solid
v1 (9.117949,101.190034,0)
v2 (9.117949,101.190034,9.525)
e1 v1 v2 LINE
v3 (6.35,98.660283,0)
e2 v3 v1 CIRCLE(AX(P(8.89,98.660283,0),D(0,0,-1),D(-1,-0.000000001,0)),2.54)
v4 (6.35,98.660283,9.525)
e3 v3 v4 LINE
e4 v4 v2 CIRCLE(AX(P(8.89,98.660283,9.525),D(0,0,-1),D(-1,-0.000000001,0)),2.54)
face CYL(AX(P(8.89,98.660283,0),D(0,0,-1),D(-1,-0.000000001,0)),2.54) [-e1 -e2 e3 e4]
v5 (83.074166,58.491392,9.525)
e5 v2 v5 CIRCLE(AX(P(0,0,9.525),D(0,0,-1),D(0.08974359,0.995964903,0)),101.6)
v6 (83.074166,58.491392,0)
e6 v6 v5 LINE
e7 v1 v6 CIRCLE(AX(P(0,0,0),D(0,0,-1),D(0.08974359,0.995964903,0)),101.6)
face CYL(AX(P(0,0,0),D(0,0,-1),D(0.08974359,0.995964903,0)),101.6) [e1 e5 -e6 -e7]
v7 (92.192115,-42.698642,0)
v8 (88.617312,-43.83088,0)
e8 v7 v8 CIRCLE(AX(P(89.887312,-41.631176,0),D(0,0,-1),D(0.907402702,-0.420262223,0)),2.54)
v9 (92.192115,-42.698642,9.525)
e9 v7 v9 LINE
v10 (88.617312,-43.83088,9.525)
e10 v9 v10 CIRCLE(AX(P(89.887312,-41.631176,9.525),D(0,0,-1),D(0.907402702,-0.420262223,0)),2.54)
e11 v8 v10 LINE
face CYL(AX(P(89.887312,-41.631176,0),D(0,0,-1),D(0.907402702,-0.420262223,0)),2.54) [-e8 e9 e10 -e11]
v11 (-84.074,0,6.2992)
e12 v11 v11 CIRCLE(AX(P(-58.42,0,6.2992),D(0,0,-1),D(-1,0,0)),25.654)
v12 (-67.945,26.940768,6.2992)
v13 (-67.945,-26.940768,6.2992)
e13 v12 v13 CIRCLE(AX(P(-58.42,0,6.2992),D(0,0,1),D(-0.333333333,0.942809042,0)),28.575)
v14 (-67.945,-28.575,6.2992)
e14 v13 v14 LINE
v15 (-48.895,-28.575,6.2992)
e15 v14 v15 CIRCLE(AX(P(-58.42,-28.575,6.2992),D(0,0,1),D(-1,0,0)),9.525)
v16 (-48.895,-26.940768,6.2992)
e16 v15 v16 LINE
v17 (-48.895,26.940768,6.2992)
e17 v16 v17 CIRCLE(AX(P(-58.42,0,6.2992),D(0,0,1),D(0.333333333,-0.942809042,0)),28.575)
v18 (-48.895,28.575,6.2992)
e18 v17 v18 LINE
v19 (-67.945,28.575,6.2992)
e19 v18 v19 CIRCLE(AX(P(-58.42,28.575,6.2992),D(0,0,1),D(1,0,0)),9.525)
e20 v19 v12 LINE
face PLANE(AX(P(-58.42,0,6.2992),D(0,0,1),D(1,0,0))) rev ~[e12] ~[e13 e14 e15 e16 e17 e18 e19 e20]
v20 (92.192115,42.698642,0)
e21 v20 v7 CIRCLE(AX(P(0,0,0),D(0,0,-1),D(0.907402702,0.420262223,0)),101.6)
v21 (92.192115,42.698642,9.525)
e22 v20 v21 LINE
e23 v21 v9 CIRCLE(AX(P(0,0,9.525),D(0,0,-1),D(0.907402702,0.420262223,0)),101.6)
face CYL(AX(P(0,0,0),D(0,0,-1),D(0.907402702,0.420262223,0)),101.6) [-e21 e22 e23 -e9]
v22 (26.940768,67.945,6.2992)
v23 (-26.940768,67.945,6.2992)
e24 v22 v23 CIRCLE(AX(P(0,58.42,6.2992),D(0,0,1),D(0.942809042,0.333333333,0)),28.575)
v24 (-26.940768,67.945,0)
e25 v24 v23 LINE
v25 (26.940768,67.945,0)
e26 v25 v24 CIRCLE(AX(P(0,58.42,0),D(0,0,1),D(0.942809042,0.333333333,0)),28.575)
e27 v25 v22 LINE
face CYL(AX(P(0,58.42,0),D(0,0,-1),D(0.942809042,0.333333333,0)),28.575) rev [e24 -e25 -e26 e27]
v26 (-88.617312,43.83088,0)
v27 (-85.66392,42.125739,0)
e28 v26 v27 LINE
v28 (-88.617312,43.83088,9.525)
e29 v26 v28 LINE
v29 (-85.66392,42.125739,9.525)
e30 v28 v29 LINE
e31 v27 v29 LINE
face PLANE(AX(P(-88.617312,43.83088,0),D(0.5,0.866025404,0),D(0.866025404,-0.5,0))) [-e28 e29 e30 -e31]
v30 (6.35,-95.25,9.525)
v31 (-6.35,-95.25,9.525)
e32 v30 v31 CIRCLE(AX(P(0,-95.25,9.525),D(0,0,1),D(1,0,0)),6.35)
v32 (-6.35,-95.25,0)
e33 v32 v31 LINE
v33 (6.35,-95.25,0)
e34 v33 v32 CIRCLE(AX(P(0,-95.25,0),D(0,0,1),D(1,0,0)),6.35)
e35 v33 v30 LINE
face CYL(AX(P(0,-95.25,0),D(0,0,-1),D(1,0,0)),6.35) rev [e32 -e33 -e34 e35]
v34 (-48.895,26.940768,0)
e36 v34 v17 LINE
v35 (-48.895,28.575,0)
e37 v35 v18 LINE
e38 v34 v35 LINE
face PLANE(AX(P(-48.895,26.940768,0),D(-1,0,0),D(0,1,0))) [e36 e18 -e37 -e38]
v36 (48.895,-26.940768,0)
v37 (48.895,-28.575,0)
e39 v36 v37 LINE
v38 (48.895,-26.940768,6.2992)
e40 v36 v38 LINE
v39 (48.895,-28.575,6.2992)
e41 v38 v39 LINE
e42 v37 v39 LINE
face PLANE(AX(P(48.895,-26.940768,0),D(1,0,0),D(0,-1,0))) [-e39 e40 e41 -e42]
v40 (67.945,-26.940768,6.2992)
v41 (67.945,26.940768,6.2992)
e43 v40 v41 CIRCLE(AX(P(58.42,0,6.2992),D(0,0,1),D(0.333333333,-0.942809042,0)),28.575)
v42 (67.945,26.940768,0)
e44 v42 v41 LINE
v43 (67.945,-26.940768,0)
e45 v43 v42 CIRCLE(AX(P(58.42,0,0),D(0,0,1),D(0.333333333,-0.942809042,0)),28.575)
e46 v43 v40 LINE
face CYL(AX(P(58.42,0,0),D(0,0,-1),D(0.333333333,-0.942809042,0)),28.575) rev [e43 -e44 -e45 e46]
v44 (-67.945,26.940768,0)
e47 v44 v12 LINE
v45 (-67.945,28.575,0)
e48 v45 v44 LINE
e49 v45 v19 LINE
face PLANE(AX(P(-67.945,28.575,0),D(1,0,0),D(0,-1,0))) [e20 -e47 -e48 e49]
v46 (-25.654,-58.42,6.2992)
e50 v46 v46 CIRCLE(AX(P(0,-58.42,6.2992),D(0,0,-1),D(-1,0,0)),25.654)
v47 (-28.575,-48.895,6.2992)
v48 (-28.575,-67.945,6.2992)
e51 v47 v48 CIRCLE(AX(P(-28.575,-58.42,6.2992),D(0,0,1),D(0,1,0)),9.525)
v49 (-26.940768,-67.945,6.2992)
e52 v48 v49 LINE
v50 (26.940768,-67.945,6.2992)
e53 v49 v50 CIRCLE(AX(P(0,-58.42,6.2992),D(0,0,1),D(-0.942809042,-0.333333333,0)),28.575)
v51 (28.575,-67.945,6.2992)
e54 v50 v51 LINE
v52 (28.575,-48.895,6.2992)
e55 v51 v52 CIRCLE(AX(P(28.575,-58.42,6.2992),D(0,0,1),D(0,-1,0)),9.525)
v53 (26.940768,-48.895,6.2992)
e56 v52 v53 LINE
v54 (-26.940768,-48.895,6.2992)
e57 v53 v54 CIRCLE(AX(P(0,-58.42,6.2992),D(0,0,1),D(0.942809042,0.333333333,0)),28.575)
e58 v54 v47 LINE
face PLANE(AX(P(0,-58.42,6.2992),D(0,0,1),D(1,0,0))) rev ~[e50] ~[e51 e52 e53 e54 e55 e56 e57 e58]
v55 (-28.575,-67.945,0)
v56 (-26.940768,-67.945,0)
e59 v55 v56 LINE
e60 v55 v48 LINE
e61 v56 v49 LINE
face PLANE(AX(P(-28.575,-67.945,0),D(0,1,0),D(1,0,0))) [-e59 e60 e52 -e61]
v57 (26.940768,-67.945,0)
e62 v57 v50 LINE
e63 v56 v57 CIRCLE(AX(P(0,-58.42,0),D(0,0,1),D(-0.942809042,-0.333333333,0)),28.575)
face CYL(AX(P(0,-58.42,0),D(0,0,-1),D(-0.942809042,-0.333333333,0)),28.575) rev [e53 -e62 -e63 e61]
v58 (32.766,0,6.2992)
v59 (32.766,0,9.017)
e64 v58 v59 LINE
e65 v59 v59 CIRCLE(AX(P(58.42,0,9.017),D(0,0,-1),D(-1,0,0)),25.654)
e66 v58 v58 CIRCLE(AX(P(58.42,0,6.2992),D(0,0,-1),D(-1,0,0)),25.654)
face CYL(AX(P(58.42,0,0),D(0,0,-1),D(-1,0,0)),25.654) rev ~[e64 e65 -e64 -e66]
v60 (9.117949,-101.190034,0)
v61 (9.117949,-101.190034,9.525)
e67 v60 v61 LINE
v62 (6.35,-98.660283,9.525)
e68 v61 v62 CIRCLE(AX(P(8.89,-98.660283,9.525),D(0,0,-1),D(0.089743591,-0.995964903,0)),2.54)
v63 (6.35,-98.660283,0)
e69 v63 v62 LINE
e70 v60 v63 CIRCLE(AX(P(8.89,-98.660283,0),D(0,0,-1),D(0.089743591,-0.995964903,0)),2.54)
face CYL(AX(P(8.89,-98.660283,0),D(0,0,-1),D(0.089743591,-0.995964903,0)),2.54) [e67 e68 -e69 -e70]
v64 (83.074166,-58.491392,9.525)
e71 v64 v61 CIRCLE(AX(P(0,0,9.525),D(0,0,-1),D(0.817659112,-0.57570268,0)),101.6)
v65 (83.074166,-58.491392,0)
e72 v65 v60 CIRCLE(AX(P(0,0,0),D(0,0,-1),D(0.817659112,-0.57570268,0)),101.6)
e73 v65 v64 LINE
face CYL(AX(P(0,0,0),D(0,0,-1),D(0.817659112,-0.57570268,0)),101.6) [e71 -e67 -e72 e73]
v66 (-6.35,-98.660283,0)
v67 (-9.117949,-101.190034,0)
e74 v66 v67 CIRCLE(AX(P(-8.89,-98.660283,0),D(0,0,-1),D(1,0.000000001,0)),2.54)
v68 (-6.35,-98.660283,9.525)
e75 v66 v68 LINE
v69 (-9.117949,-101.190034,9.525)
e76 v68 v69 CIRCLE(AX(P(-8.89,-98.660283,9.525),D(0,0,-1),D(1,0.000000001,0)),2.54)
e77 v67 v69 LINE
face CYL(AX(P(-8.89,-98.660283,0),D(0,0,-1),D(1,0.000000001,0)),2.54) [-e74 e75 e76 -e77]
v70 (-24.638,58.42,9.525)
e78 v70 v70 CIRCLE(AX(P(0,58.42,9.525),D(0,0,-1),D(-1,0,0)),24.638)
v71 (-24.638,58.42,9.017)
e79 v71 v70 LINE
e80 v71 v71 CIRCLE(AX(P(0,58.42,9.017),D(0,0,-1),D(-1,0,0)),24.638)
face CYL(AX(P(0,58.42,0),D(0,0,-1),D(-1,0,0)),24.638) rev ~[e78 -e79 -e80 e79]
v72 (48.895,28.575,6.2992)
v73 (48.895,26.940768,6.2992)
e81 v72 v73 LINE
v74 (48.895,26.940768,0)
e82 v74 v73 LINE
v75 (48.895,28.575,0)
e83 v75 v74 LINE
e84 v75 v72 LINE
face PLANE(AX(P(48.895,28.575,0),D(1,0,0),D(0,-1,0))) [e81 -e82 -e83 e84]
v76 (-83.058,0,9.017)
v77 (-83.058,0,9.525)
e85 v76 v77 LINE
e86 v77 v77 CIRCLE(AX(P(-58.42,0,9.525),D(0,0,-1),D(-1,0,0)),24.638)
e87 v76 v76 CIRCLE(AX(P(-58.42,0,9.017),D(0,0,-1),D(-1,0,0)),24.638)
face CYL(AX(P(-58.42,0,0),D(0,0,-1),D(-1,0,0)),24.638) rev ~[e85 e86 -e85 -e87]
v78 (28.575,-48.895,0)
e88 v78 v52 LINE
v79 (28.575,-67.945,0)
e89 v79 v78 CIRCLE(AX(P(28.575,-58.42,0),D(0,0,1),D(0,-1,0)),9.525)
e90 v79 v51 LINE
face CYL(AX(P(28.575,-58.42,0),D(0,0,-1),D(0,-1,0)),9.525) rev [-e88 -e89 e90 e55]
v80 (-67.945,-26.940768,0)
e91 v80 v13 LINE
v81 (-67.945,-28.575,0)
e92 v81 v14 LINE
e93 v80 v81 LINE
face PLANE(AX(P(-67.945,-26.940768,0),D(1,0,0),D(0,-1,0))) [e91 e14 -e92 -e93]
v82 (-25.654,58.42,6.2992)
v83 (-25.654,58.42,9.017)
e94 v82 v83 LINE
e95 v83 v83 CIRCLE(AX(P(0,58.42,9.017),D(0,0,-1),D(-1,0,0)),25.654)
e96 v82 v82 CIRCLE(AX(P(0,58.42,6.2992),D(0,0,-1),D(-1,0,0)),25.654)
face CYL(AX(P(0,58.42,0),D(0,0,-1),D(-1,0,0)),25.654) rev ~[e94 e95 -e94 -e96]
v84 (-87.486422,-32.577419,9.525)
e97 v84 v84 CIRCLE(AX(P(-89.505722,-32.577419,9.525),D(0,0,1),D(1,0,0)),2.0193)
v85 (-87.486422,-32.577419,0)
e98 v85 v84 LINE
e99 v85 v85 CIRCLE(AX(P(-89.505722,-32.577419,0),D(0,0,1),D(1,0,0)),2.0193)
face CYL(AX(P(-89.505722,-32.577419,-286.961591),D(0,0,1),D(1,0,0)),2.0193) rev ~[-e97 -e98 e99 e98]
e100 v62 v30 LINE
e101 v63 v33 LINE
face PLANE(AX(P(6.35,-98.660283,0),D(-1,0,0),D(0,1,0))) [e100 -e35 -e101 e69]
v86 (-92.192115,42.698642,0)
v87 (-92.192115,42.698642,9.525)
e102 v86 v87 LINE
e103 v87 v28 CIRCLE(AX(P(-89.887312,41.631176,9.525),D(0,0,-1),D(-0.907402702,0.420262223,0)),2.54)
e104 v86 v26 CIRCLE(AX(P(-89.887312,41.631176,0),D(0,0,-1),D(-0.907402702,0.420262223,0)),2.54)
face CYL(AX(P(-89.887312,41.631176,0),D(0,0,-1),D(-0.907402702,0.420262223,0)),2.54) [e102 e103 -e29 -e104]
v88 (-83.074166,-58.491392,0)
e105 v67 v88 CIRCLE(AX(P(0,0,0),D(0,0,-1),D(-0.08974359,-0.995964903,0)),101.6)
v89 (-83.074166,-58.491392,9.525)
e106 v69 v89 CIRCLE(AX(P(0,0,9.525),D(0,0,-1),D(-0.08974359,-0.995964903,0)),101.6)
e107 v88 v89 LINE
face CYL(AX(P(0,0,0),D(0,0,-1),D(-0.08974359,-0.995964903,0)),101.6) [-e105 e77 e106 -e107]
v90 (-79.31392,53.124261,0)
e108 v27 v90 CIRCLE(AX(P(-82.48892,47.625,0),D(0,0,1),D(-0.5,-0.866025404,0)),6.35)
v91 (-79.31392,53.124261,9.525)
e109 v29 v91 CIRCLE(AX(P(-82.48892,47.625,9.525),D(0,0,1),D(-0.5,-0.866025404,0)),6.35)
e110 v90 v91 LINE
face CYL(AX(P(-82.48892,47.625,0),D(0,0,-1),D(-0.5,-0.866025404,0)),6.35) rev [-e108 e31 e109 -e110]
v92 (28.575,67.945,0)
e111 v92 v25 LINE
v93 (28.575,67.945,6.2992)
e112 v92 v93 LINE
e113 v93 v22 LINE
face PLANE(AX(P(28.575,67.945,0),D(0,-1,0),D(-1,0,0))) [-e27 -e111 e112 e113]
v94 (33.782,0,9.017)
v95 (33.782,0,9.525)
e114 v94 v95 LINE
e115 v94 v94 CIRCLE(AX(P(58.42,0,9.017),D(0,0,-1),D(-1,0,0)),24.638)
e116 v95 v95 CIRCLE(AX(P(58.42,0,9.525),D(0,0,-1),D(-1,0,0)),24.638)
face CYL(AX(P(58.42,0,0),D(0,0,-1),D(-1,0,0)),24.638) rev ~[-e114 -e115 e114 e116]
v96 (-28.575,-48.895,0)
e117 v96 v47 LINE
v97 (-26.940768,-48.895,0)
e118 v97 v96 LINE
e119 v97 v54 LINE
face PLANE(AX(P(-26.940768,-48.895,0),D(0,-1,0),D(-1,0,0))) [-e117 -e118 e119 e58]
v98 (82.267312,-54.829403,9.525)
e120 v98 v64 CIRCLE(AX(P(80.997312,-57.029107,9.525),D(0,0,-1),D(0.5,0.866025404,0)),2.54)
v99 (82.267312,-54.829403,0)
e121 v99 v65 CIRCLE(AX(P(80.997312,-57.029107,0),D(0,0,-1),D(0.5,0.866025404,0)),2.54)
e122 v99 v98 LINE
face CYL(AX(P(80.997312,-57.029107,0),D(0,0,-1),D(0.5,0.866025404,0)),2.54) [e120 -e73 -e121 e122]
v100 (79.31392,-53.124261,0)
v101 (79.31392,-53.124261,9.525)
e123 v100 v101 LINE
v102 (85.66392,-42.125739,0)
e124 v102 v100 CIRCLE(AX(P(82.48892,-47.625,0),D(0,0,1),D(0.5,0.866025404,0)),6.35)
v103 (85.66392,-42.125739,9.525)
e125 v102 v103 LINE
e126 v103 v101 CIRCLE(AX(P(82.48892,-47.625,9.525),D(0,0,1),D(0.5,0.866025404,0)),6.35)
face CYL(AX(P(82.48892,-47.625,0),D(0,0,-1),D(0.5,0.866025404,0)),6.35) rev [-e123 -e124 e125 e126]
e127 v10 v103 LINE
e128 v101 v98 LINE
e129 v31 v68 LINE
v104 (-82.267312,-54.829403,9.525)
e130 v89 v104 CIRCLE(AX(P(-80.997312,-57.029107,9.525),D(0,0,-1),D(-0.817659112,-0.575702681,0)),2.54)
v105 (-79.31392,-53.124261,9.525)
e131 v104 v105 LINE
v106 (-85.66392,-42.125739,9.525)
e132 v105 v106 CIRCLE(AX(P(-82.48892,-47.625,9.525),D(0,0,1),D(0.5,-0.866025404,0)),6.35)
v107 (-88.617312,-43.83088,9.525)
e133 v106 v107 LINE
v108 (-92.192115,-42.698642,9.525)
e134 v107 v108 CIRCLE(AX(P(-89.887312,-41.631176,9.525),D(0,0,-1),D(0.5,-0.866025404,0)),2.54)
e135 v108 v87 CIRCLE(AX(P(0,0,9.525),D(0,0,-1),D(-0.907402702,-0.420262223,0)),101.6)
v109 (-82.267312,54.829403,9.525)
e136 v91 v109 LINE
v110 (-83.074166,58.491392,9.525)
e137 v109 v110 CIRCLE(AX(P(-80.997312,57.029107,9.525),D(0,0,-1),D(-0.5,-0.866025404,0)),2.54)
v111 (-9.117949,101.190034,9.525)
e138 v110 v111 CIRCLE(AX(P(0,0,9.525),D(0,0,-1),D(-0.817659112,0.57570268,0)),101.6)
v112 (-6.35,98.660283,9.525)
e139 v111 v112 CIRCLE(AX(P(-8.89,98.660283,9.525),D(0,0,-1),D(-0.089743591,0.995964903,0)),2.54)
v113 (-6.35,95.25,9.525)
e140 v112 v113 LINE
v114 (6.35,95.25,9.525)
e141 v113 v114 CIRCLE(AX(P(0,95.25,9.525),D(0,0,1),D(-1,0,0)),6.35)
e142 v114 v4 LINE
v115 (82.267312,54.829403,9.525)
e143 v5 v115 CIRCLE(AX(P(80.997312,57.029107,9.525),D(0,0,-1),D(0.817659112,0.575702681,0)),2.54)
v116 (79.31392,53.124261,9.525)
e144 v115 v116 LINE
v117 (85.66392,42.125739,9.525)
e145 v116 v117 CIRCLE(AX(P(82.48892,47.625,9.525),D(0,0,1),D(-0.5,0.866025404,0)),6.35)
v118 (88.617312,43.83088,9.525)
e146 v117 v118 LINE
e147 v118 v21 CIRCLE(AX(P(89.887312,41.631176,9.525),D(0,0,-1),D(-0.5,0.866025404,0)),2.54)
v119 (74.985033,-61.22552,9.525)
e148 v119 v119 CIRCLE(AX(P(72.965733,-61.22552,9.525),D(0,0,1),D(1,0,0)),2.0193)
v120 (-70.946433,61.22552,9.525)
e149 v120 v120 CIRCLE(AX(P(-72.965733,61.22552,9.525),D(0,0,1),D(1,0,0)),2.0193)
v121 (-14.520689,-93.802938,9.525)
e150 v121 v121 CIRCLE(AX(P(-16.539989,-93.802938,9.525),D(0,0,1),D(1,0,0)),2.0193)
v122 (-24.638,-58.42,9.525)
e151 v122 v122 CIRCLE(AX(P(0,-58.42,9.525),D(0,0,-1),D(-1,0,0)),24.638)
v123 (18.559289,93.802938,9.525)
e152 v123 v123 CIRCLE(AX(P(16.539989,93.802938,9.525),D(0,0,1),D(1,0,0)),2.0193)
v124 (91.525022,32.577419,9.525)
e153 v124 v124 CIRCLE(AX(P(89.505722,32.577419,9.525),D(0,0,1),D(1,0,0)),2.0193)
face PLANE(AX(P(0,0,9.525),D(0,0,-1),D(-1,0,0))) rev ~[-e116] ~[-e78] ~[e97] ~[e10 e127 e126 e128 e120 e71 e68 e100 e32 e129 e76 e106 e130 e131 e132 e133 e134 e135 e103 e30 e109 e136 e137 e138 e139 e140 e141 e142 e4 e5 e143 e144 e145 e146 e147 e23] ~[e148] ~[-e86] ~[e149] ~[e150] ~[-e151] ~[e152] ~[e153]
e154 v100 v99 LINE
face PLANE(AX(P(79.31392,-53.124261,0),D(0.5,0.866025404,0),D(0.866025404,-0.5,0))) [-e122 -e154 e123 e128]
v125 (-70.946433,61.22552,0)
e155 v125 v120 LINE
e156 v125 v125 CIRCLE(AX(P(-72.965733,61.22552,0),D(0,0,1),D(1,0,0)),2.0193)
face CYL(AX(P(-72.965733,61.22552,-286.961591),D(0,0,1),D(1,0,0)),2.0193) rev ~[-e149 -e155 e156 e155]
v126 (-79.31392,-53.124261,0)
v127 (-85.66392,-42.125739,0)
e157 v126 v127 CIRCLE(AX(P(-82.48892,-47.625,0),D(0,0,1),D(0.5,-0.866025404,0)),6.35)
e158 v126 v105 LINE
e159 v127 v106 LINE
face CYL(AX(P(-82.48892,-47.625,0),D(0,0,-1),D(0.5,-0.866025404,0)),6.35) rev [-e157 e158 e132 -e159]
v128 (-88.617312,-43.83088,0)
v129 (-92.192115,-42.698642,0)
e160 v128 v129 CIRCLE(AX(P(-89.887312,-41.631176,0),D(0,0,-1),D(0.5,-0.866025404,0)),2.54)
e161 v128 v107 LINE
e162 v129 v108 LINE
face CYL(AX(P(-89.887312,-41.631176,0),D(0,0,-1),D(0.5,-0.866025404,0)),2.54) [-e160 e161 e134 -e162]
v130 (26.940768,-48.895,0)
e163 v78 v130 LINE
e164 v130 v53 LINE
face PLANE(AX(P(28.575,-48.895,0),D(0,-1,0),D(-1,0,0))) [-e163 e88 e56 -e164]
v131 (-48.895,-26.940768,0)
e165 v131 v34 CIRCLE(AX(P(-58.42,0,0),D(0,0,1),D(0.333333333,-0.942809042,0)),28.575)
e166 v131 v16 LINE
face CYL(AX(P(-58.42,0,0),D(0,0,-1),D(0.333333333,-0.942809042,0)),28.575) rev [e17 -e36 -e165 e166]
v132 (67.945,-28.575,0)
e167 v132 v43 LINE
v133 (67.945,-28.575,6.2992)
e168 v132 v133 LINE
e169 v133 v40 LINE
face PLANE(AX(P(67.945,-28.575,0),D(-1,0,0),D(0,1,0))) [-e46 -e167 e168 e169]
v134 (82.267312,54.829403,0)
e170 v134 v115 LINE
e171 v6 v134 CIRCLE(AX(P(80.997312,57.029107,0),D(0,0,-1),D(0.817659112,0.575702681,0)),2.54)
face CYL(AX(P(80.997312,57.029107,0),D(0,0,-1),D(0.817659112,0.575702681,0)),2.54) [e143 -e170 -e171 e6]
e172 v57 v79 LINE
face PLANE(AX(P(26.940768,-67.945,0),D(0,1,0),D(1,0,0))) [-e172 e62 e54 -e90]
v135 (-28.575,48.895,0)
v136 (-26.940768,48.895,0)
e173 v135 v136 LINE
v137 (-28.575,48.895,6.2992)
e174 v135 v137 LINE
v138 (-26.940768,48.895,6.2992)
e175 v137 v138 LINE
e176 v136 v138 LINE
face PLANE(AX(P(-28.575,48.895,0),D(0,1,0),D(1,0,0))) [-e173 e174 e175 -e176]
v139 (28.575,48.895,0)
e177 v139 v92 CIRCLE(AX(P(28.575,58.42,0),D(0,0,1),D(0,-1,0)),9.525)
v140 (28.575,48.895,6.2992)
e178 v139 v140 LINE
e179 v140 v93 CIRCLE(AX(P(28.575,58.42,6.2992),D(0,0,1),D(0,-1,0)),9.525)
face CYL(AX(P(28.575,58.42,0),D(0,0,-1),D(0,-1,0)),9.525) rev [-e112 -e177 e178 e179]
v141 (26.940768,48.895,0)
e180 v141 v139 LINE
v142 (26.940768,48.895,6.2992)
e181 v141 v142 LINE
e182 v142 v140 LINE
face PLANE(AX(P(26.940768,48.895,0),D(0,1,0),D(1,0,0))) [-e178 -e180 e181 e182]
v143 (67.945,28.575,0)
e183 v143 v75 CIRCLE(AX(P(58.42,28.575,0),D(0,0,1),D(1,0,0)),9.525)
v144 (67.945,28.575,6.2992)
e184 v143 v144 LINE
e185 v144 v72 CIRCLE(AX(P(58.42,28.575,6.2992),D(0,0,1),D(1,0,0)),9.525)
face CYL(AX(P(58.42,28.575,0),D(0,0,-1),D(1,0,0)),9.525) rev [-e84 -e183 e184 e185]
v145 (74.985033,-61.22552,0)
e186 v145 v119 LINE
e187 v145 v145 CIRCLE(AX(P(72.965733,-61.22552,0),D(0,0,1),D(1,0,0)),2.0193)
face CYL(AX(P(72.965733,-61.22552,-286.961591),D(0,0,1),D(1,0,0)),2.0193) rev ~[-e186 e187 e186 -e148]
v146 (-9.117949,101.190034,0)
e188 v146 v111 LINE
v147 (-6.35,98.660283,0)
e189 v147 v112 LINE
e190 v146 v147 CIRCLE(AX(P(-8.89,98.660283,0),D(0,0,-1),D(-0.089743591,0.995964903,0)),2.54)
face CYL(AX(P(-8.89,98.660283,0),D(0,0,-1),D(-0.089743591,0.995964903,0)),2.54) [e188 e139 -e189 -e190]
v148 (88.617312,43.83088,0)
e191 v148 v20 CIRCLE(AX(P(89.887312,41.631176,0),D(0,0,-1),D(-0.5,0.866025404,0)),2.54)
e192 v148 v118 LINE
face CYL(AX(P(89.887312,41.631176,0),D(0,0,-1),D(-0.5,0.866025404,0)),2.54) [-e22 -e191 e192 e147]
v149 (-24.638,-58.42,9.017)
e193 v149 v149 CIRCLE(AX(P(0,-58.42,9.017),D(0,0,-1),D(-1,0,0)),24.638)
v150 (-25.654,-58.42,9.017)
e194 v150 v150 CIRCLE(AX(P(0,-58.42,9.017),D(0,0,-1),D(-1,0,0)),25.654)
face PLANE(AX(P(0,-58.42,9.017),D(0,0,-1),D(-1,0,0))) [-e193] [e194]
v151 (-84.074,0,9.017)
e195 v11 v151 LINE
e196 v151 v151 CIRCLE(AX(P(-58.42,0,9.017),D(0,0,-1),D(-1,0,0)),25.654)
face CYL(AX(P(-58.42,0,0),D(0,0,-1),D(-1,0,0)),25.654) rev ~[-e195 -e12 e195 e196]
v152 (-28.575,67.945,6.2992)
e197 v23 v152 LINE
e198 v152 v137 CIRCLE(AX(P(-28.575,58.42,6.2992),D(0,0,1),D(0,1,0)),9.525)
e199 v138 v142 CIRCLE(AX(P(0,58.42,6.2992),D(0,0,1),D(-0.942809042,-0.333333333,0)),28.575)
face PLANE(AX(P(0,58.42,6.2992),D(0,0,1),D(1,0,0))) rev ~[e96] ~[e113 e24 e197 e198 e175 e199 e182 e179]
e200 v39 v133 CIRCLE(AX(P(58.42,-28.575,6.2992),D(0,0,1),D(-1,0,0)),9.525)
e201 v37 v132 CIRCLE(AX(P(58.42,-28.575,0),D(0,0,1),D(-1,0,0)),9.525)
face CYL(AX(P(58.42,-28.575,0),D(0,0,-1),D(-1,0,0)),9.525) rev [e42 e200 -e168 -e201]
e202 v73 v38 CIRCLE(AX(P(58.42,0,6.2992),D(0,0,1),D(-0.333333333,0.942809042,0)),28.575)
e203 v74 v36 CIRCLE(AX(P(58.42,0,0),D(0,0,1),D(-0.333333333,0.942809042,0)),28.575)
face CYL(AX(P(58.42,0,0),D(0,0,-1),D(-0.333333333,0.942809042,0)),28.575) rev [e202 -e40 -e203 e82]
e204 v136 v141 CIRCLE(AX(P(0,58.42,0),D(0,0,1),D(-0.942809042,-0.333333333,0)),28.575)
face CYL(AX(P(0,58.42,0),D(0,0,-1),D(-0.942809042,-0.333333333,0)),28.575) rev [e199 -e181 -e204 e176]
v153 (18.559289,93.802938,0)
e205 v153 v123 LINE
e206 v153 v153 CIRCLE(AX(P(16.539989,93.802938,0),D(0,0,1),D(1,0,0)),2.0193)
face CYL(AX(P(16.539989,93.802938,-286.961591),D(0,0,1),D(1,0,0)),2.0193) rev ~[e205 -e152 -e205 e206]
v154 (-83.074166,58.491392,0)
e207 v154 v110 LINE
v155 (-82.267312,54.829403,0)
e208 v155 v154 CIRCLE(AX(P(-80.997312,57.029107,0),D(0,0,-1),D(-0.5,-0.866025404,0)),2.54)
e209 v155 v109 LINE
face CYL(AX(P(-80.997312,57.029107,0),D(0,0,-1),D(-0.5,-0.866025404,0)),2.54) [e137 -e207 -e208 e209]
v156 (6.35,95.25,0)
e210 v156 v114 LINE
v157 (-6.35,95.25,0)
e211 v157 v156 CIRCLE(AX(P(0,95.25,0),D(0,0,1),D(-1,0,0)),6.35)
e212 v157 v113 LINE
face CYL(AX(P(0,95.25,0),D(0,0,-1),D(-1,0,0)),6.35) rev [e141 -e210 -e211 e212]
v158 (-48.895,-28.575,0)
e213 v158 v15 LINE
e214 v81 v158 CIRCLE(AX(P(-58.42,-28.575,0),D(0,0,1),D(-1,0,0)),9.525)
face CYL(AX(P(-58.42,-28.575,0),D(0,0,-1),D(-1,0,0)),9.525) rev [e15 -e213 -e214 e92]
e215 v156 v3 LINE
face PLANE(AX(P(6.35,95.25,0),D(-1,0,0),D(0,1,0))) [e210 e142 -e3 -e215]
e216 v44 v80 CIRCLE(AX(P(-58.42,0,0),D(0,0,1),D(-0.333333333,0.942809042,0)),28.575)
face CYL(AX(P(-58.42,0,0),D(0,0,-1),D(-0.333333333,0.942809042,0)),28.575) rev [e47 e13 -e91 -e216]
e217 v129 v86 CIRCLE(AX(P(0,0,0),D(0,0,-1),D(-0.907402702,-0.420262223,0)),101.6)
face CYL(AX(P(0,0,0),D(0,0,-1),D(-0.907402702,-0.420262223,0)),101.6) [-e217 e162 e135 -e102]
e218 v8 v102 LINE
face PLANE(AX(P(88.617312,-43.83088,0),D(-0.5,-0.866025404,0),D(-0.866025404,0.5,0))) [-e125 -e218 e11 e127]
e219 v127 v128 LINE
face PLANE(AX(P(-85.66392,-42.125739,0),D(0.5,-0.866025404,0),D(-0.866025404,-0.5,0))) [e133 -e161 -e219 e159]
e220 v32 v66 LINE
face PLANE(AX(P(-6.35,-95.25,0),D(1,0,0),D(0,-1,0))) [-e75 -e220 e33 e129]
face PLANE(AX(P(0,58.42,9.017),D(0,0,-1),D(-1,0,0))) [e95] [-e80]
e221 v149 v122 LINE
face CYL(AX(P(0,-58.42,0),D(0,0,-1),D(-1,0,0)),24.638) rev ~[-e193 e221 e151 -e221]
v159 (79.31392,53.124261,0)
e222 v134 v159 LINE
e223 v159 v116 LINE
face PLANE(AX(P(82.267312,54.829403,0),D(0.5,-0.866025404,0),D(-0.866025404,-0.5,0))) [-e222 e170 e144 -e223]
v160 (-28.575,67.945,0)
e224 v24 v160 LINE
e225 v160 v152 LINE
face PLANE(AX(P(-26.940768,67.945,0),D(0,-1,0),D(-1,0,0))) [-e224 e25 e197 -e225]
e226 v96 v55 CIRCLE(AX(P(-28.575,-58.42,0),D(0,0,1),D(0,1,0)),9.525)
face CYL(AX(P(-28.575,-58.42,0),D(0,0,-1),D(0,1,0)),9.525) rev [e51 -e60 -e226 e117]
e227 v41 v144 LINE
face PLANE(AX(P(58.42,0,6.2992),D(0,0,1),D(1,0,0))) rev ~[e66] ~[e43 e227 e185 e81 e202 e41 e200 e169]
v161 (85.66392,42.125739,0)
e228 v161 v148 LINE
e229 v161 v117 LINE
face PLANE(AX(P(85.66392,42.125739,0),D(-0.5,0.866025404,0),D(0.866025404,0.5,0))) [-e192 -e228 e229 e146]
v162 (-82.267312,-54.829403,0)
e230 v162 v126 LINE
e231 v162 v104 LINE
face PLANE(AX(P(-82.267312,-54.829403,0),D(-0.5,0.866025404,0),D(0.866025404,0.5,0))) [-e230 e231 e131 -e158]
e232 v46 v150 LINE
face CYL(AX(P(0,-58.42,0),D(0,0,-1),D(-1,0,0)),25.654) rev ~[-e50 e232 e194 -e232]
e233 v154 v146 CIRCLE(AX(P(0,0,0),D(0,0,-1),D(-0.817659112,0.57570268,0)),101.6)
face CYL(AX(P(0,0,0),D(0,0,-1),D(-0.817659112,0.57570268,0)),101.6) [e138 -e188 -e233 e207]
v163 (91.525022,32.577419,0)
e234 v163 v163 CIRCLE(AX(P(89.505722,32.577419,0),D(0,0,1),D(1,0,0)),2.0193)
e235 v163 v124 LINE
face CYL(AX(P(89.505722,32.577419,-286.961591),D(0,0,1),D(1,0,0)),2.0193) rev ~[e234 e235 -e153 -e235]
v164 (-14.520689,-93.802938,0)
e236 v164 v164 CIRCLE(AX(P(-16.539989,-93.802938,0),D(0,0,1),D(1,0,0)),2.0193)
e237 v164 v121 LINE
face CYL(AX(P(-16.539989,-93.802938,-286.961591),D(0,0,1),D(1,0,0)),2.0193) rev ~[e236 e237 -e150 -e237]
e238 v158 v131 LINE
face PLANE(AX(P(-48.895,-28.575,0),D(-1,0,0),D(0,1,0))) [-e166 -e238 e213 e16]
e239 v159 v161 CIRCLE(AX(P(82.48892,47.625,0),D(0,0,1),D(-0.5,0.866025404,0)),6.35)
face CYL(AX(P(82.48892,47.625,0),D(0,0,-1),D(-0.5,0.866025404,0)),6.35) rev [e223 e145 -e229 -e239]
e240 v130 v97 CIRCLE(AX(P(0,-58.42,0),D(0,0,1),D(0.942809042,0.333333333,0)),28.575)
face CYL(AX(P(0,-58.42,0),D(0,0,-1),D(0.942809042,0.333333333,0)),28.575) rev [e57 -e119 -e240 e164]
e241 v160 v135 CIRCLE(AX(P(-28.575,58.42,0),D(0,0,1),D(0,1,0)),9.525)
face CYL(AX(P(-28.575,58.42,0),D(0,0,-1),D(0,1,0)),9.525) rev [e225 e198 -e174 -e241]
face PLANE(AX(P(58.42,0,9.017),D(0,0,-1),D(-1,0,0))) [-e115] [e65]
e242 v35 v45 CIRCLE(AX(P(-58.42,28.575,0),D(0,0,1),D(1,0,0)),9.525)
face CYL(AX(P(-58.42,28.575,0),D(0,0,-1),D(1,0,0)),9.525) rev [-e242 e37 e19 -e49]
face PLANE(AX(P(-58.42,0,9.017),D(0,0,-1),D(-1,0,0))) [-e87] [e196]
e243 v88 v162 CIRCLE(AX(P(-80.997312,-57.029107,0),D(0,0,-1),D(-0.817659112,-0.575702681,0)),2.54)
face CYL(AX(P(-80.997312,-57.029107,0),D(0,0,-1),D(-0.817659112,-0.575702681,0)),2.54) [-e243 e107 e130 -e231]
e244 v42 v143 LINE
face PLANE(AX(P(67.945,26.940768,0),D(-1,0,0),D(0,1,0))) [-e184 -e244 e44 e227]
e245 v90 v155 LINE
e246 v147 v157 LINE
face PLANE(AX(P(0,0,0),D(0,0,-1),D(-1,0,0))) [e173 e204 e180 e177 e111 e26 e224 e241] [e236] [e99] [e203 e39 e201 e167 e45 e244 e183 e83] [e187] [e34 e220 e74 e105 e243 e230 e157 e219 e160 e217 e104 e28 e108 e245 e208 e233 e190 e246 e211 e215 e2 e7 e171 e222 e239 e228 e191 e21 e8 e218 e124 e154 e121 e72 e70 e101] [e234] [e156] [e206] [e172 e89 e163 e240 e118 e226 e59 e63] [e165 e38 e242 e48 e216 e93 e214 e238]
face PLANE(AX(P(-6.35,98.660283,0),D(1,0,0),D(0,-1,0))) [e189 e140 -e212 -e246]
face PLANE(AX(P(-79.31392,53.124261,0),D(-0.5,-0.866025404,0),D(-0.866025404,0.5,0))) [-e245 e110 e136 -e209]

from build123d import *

# Parameters (mm, degrees)
BOSS_EXTRUDE1_DEPTH      = 9.525
F_10_32_TAPPED_HOLE1_D   = 4.0386
SUBSTRATE_CSINK_R        = 25.654
CUT_EXTRUDE1_DEPTH       = 9.017
SUBSTRATE_SURFACE_HOLE_R = 24.638
CUT_EXTRUDE2_DEPTH       = 144.717719729
CUT_EXTRUDE3_DEPTH       = 6.2992


with BuildPart() as part:
    # Front Plate Main → Boss-Extrude1 (new body)
    with BuildSketch(Plane.XY):
        with BuildLine():
            Line((-6.35, 98.660283296), (-6.35, 95.25))
            ThreePointArc((-6.35, 95.25), (0, 88.9), (6.35, 95.25))
            Line((6.35, 95.25), (6.35, 98.660283296))
            ThreePointArc((6.35, 98.660283296), (7.176434965, 100.53519526), (9.117948718, 101.190034149))
            ThreePointArc((9.117948718, 101.190034149), (50.8, 87.988181024), (83.074165824, 58.491392295))
            ThreePointArc((83.074165824, 58.491392295), (83.477815587, 56.482572618), (82.267311679, 54.829402962))
            Line((82.267311679, 54.829402962), (79.31391971, 53.124261314))
            ThreePointArc((79.31391971, 53.124261314), (76.989658396, 44.45), (85.66391971, 42.125738686))
            Line((85.66391971, 42.125738686), (88.617311679, 43.830880334))
            ThreePointArc((88.617311679, 43.830880334), (90.654250552, 44.052622641), (92.192114542, 42.698641855))
            ThreePointArc((92.192114542, 42.698641855), (101.6, 0), (92.192114542, -42.698641855))
            ThreePointArc((92.192114542, -42.698641855), (90.654250552, -44.052622641), (88.617311679, -43.830880334))
            Line((88.617311679, -43.830880334), (85.66391971, -42.125738686))
            ThreePointArc((85.66391971, -42.125738686), (76.989658396, -44.45), (79.31391971, -53.124261314))
            Line((79.31391971, -53.124261314), (82.267311679, -54.829402962))
            ThreePointArc((82.267311679, -54.829402962), (83.477815587, -56.482572618), (83.074165824, -58.491392295))
            ThreePointArc((83.074165824, -58.491392295), (50.8, -87.988181024), (9.117948718, -101.190034149))
            ThreePointArc((9.117948718, -101.190034149), (7.176434965, -100.53519526), (6.35, -98.660283296))
            Line((6.35, -98.660283296), (6.35, -95.25))
            ThreePointArc((6.35, -95.25), (0, -88.9), (-6.35, -95.25))
            Line((-6.35, -95.25), (-6.35, -98.660283296))
            ThreePointArc((-6.35, -98.660283296), (-7.176434965, -100.53519526), (-9.117948718, -101.190034149))
            ThreePointArc((-9.117948718, -101.190034149), (-50.8, -87.988181024), (-83.074165824, -58.491392295))
            ThreePointArc((-83.074165824, -58.491392295), (-83.477815587, -56.482572618), (-82.267311679, -54.829402962))
            Line((-82.267311679, -54.829402962), (-79.31391971, -53.124261314))
            ThreePointArc((-79.31391971, -53.124261314), (-76.989658396, -44.45), (-85.66391971, -42.125738686))
            Line((-85.66391971, -42.125738686), (-88.617311679, -43.830880334))
            ThreePointArc((-88.617311679, -43.830880334), (-90.654250552, -44.052622641), (-92.192114542, -42.698641855))
            ThreePointArc((-92.192114542, -42.698641855), (-101.6, 0), (-92.192114542, 42.698641855))
            ThreePointArc((-92.192114542, 42.698641855), (-90.654250552, 44.052622641), (-88.617311679, 43.830880334))
            Line((-88.617311679, 43.830880334), (-85.66391971, 42.125738686))
            ThreePointArc((-85.66391971, 42.125738686), (-76.989658396, 44.45), (-79.31391971, 53.124261314))
            Line((-79.31391971, 53.124261314), (-82.267311679, 54.829402962))
            ThreePointArc((-82.267311679, 54.829402962), (-83.477815587, 56.482572618), (-83.074165824, 58.491392295))
            ThreePointArc((-83.074165824, 58.491392295), (-50.8, 87.988181024), (-9.117948718, 101.190034149))
            ThreePointArc((-9.117948718, 101.190034149), (-7.176434965, 100.53519526), (-6.35, 98.660283296))
        make_face()
    extrude(amount=BOSS_EXTRUDE1_DEPTH)

    # #10-32 Tapped Hole1 (through all)
    with Locations(Plane(origin=(0, 0, 0), x_dir=(-1, 0, 0), z_dir=(0, 0, -1))):
        with Locations((-16.539988923, 93.802938474), (72.965733207, 61.225519823), (89.50572213, -32.577418652), (16.539988923, -93.802938474), (-72.965733207, -61.225519823), (-89.50572213, 32.577418652)):
            Hole(F_10_32_TAPPED_HOLE1_D / 2)

    # Substrate CSink → Cut-Extrude1 (cut)
    with BuildSketch(Plane(origin=(0, 0, 0), x_dir=(-1, 0, 0), z_dir=(0, 0, -1))):
        with Locations((0, 58.42)):
            Circle(SUBSTRATE_CSINK_R)
        with Locations((58.42, 0)):
            Circle(SUBSTRATE_CSINK_R)
        with Locations((0, -58.42)):
            Circle(SUBSTRATE_CSINK_R)
        with Locations((-58.42, 0)):
            Circle(SUBSTRATE_CSINK_R)
    extrude(amount=-CUT_EXTRUDE1_DEPTH, mode=Mode.SUBTRACT)

    # Substrate Surface Hole → Cut-Extrude2 (cut, through all)
    with BuildSketch(Plane(origin=(0, 0, 0), x_dir=(-1, 0, 0), z_dir=(0, 0, -1))):
        with Locations((0, 58.42)):
            Circle(SUBSTRATE_SURFACE_HOLE_R)
        with Locations((58.42, 0)):
            Circle(SUBSTRATE_SURFACE_HOLE_R)
        with Locations((0, -58.42)):
            Circle(SUBSTRATE_SURFACE_HOLE_R)
        with Locations((-58.42, 0)):
            Circle(SUBSTRATE_SURFACE_HOLE_R)
    extrude(amount=-CUT_EXTRUDE2_DEPTH, mode=Mode.SUBTRACT)

    # Backer Clearance → Cut-Extrude3 (cut)
    with BuildSketch(Plane(origin=(0, 0, 0), x_dir=(-1, 0, 0), z_dir=(0, 0, -1))):
        with BuildLine():
            Line((-28.575, 67.945), (-26.940768363, 67.945))
            ThreePointArc((-26.940768363, 67.945), (0, 86.995), (26.940768363, 67.945))
            Line((26.940768363, 67.945), (28.575, 67.945))
            ThreePointArc((28.575, 67.945), (38.1, 58.42), (28.575, 48.895))
            Line((28.575, 48.895), (26.940768363, 48.895))
            ThreePointArc((26.940768363, 48.895), (0, 29.845), (-26.940768363, 48.895))
            Line((-26.940768363, 48.895), (-28.575, 48.895))
            ThreePointArc((-28.575, 48.895), (-38.1, 58.42), (-28.575, 67.945))
        make_face()
        with BuildLine():
            Line((67.945, 28.575), (67.945, 26.940768363))
            ThreePointArc((67.945, 26.940768363), (86.995, 0), (67.945, -26.940768363))
            Line((67.945, -26.940768363), (67.945, -28.575))
            ThreePointArc((67.945, -28.575), (58.42, -38.1), (48.895, -28.575))
            Line((48.895, -28.575), (48.895, -26.940768363))
            ThreePointArc((48.895, -26.940768363), (29.845, 0), (48.895, 26.940768363))
            Line((48.895, 26.940768363), (48.895, 28.575))
            ThreePointArc((48.895, 28.575), (58.42, 38.1), (67.945, 28.575))
        make_face()
        with BuildLine():
            Line((28.575, -67.945), (26.940768363, -67.945))
            ThreePointArc((26.940768363, -67.945), (0, -86.995), (-26.940768363, -67.945))
            Line((-26.940768363, -67.945), (-28.575, -67.945))
            ThreePointArc((-28.575, -67.945), (-38.1, -58.42), (-28.575, -48.895))
            Line((-28.575, -48.895), (-26.940768363, -48.895))
            ThreePointArc((-26.940768363, -48.895), (0, -29.845), (26.940768363, -48.895))
            Line((26.940768363, -48.895), (28.575, -48.895))
            ThreePointArc((28.575, -48.895), (38.1, -58.42), (28.575, -67.945))
        make_face()
        with BuildLine():
            Line((-67.945, -28.575), (-67.945, -26.940768363))
            ThreePointArc((-67.945, -26.940768363), (-86.995, 0), (-67.945, 26.940768363))
            Line((-67.945, 26.940768363), (-67.945, 28.575))
            ThreePointArc((-67.945, 28.575), (-58.42, 38.1), (-48.895, 28.575))
            Line((-48.895, 28.575), (-48.895, 26.940768363))
            ThreePointArc((-48.895, 26.940768363), (-29.845, 0), (-48.895, -26.940768363))
            Line((-48.895, -26.940768363), (-48.895, -28.575))
            ThreePointArc((-48.895, -28.575), (-58.42, -38.1), (-67.945, -28.575))
        make_face()
    extrude(amount=-CUT_EXTRUDE3_DEPTH, mode=Mode.SUBTRACT)


solid = part.part
